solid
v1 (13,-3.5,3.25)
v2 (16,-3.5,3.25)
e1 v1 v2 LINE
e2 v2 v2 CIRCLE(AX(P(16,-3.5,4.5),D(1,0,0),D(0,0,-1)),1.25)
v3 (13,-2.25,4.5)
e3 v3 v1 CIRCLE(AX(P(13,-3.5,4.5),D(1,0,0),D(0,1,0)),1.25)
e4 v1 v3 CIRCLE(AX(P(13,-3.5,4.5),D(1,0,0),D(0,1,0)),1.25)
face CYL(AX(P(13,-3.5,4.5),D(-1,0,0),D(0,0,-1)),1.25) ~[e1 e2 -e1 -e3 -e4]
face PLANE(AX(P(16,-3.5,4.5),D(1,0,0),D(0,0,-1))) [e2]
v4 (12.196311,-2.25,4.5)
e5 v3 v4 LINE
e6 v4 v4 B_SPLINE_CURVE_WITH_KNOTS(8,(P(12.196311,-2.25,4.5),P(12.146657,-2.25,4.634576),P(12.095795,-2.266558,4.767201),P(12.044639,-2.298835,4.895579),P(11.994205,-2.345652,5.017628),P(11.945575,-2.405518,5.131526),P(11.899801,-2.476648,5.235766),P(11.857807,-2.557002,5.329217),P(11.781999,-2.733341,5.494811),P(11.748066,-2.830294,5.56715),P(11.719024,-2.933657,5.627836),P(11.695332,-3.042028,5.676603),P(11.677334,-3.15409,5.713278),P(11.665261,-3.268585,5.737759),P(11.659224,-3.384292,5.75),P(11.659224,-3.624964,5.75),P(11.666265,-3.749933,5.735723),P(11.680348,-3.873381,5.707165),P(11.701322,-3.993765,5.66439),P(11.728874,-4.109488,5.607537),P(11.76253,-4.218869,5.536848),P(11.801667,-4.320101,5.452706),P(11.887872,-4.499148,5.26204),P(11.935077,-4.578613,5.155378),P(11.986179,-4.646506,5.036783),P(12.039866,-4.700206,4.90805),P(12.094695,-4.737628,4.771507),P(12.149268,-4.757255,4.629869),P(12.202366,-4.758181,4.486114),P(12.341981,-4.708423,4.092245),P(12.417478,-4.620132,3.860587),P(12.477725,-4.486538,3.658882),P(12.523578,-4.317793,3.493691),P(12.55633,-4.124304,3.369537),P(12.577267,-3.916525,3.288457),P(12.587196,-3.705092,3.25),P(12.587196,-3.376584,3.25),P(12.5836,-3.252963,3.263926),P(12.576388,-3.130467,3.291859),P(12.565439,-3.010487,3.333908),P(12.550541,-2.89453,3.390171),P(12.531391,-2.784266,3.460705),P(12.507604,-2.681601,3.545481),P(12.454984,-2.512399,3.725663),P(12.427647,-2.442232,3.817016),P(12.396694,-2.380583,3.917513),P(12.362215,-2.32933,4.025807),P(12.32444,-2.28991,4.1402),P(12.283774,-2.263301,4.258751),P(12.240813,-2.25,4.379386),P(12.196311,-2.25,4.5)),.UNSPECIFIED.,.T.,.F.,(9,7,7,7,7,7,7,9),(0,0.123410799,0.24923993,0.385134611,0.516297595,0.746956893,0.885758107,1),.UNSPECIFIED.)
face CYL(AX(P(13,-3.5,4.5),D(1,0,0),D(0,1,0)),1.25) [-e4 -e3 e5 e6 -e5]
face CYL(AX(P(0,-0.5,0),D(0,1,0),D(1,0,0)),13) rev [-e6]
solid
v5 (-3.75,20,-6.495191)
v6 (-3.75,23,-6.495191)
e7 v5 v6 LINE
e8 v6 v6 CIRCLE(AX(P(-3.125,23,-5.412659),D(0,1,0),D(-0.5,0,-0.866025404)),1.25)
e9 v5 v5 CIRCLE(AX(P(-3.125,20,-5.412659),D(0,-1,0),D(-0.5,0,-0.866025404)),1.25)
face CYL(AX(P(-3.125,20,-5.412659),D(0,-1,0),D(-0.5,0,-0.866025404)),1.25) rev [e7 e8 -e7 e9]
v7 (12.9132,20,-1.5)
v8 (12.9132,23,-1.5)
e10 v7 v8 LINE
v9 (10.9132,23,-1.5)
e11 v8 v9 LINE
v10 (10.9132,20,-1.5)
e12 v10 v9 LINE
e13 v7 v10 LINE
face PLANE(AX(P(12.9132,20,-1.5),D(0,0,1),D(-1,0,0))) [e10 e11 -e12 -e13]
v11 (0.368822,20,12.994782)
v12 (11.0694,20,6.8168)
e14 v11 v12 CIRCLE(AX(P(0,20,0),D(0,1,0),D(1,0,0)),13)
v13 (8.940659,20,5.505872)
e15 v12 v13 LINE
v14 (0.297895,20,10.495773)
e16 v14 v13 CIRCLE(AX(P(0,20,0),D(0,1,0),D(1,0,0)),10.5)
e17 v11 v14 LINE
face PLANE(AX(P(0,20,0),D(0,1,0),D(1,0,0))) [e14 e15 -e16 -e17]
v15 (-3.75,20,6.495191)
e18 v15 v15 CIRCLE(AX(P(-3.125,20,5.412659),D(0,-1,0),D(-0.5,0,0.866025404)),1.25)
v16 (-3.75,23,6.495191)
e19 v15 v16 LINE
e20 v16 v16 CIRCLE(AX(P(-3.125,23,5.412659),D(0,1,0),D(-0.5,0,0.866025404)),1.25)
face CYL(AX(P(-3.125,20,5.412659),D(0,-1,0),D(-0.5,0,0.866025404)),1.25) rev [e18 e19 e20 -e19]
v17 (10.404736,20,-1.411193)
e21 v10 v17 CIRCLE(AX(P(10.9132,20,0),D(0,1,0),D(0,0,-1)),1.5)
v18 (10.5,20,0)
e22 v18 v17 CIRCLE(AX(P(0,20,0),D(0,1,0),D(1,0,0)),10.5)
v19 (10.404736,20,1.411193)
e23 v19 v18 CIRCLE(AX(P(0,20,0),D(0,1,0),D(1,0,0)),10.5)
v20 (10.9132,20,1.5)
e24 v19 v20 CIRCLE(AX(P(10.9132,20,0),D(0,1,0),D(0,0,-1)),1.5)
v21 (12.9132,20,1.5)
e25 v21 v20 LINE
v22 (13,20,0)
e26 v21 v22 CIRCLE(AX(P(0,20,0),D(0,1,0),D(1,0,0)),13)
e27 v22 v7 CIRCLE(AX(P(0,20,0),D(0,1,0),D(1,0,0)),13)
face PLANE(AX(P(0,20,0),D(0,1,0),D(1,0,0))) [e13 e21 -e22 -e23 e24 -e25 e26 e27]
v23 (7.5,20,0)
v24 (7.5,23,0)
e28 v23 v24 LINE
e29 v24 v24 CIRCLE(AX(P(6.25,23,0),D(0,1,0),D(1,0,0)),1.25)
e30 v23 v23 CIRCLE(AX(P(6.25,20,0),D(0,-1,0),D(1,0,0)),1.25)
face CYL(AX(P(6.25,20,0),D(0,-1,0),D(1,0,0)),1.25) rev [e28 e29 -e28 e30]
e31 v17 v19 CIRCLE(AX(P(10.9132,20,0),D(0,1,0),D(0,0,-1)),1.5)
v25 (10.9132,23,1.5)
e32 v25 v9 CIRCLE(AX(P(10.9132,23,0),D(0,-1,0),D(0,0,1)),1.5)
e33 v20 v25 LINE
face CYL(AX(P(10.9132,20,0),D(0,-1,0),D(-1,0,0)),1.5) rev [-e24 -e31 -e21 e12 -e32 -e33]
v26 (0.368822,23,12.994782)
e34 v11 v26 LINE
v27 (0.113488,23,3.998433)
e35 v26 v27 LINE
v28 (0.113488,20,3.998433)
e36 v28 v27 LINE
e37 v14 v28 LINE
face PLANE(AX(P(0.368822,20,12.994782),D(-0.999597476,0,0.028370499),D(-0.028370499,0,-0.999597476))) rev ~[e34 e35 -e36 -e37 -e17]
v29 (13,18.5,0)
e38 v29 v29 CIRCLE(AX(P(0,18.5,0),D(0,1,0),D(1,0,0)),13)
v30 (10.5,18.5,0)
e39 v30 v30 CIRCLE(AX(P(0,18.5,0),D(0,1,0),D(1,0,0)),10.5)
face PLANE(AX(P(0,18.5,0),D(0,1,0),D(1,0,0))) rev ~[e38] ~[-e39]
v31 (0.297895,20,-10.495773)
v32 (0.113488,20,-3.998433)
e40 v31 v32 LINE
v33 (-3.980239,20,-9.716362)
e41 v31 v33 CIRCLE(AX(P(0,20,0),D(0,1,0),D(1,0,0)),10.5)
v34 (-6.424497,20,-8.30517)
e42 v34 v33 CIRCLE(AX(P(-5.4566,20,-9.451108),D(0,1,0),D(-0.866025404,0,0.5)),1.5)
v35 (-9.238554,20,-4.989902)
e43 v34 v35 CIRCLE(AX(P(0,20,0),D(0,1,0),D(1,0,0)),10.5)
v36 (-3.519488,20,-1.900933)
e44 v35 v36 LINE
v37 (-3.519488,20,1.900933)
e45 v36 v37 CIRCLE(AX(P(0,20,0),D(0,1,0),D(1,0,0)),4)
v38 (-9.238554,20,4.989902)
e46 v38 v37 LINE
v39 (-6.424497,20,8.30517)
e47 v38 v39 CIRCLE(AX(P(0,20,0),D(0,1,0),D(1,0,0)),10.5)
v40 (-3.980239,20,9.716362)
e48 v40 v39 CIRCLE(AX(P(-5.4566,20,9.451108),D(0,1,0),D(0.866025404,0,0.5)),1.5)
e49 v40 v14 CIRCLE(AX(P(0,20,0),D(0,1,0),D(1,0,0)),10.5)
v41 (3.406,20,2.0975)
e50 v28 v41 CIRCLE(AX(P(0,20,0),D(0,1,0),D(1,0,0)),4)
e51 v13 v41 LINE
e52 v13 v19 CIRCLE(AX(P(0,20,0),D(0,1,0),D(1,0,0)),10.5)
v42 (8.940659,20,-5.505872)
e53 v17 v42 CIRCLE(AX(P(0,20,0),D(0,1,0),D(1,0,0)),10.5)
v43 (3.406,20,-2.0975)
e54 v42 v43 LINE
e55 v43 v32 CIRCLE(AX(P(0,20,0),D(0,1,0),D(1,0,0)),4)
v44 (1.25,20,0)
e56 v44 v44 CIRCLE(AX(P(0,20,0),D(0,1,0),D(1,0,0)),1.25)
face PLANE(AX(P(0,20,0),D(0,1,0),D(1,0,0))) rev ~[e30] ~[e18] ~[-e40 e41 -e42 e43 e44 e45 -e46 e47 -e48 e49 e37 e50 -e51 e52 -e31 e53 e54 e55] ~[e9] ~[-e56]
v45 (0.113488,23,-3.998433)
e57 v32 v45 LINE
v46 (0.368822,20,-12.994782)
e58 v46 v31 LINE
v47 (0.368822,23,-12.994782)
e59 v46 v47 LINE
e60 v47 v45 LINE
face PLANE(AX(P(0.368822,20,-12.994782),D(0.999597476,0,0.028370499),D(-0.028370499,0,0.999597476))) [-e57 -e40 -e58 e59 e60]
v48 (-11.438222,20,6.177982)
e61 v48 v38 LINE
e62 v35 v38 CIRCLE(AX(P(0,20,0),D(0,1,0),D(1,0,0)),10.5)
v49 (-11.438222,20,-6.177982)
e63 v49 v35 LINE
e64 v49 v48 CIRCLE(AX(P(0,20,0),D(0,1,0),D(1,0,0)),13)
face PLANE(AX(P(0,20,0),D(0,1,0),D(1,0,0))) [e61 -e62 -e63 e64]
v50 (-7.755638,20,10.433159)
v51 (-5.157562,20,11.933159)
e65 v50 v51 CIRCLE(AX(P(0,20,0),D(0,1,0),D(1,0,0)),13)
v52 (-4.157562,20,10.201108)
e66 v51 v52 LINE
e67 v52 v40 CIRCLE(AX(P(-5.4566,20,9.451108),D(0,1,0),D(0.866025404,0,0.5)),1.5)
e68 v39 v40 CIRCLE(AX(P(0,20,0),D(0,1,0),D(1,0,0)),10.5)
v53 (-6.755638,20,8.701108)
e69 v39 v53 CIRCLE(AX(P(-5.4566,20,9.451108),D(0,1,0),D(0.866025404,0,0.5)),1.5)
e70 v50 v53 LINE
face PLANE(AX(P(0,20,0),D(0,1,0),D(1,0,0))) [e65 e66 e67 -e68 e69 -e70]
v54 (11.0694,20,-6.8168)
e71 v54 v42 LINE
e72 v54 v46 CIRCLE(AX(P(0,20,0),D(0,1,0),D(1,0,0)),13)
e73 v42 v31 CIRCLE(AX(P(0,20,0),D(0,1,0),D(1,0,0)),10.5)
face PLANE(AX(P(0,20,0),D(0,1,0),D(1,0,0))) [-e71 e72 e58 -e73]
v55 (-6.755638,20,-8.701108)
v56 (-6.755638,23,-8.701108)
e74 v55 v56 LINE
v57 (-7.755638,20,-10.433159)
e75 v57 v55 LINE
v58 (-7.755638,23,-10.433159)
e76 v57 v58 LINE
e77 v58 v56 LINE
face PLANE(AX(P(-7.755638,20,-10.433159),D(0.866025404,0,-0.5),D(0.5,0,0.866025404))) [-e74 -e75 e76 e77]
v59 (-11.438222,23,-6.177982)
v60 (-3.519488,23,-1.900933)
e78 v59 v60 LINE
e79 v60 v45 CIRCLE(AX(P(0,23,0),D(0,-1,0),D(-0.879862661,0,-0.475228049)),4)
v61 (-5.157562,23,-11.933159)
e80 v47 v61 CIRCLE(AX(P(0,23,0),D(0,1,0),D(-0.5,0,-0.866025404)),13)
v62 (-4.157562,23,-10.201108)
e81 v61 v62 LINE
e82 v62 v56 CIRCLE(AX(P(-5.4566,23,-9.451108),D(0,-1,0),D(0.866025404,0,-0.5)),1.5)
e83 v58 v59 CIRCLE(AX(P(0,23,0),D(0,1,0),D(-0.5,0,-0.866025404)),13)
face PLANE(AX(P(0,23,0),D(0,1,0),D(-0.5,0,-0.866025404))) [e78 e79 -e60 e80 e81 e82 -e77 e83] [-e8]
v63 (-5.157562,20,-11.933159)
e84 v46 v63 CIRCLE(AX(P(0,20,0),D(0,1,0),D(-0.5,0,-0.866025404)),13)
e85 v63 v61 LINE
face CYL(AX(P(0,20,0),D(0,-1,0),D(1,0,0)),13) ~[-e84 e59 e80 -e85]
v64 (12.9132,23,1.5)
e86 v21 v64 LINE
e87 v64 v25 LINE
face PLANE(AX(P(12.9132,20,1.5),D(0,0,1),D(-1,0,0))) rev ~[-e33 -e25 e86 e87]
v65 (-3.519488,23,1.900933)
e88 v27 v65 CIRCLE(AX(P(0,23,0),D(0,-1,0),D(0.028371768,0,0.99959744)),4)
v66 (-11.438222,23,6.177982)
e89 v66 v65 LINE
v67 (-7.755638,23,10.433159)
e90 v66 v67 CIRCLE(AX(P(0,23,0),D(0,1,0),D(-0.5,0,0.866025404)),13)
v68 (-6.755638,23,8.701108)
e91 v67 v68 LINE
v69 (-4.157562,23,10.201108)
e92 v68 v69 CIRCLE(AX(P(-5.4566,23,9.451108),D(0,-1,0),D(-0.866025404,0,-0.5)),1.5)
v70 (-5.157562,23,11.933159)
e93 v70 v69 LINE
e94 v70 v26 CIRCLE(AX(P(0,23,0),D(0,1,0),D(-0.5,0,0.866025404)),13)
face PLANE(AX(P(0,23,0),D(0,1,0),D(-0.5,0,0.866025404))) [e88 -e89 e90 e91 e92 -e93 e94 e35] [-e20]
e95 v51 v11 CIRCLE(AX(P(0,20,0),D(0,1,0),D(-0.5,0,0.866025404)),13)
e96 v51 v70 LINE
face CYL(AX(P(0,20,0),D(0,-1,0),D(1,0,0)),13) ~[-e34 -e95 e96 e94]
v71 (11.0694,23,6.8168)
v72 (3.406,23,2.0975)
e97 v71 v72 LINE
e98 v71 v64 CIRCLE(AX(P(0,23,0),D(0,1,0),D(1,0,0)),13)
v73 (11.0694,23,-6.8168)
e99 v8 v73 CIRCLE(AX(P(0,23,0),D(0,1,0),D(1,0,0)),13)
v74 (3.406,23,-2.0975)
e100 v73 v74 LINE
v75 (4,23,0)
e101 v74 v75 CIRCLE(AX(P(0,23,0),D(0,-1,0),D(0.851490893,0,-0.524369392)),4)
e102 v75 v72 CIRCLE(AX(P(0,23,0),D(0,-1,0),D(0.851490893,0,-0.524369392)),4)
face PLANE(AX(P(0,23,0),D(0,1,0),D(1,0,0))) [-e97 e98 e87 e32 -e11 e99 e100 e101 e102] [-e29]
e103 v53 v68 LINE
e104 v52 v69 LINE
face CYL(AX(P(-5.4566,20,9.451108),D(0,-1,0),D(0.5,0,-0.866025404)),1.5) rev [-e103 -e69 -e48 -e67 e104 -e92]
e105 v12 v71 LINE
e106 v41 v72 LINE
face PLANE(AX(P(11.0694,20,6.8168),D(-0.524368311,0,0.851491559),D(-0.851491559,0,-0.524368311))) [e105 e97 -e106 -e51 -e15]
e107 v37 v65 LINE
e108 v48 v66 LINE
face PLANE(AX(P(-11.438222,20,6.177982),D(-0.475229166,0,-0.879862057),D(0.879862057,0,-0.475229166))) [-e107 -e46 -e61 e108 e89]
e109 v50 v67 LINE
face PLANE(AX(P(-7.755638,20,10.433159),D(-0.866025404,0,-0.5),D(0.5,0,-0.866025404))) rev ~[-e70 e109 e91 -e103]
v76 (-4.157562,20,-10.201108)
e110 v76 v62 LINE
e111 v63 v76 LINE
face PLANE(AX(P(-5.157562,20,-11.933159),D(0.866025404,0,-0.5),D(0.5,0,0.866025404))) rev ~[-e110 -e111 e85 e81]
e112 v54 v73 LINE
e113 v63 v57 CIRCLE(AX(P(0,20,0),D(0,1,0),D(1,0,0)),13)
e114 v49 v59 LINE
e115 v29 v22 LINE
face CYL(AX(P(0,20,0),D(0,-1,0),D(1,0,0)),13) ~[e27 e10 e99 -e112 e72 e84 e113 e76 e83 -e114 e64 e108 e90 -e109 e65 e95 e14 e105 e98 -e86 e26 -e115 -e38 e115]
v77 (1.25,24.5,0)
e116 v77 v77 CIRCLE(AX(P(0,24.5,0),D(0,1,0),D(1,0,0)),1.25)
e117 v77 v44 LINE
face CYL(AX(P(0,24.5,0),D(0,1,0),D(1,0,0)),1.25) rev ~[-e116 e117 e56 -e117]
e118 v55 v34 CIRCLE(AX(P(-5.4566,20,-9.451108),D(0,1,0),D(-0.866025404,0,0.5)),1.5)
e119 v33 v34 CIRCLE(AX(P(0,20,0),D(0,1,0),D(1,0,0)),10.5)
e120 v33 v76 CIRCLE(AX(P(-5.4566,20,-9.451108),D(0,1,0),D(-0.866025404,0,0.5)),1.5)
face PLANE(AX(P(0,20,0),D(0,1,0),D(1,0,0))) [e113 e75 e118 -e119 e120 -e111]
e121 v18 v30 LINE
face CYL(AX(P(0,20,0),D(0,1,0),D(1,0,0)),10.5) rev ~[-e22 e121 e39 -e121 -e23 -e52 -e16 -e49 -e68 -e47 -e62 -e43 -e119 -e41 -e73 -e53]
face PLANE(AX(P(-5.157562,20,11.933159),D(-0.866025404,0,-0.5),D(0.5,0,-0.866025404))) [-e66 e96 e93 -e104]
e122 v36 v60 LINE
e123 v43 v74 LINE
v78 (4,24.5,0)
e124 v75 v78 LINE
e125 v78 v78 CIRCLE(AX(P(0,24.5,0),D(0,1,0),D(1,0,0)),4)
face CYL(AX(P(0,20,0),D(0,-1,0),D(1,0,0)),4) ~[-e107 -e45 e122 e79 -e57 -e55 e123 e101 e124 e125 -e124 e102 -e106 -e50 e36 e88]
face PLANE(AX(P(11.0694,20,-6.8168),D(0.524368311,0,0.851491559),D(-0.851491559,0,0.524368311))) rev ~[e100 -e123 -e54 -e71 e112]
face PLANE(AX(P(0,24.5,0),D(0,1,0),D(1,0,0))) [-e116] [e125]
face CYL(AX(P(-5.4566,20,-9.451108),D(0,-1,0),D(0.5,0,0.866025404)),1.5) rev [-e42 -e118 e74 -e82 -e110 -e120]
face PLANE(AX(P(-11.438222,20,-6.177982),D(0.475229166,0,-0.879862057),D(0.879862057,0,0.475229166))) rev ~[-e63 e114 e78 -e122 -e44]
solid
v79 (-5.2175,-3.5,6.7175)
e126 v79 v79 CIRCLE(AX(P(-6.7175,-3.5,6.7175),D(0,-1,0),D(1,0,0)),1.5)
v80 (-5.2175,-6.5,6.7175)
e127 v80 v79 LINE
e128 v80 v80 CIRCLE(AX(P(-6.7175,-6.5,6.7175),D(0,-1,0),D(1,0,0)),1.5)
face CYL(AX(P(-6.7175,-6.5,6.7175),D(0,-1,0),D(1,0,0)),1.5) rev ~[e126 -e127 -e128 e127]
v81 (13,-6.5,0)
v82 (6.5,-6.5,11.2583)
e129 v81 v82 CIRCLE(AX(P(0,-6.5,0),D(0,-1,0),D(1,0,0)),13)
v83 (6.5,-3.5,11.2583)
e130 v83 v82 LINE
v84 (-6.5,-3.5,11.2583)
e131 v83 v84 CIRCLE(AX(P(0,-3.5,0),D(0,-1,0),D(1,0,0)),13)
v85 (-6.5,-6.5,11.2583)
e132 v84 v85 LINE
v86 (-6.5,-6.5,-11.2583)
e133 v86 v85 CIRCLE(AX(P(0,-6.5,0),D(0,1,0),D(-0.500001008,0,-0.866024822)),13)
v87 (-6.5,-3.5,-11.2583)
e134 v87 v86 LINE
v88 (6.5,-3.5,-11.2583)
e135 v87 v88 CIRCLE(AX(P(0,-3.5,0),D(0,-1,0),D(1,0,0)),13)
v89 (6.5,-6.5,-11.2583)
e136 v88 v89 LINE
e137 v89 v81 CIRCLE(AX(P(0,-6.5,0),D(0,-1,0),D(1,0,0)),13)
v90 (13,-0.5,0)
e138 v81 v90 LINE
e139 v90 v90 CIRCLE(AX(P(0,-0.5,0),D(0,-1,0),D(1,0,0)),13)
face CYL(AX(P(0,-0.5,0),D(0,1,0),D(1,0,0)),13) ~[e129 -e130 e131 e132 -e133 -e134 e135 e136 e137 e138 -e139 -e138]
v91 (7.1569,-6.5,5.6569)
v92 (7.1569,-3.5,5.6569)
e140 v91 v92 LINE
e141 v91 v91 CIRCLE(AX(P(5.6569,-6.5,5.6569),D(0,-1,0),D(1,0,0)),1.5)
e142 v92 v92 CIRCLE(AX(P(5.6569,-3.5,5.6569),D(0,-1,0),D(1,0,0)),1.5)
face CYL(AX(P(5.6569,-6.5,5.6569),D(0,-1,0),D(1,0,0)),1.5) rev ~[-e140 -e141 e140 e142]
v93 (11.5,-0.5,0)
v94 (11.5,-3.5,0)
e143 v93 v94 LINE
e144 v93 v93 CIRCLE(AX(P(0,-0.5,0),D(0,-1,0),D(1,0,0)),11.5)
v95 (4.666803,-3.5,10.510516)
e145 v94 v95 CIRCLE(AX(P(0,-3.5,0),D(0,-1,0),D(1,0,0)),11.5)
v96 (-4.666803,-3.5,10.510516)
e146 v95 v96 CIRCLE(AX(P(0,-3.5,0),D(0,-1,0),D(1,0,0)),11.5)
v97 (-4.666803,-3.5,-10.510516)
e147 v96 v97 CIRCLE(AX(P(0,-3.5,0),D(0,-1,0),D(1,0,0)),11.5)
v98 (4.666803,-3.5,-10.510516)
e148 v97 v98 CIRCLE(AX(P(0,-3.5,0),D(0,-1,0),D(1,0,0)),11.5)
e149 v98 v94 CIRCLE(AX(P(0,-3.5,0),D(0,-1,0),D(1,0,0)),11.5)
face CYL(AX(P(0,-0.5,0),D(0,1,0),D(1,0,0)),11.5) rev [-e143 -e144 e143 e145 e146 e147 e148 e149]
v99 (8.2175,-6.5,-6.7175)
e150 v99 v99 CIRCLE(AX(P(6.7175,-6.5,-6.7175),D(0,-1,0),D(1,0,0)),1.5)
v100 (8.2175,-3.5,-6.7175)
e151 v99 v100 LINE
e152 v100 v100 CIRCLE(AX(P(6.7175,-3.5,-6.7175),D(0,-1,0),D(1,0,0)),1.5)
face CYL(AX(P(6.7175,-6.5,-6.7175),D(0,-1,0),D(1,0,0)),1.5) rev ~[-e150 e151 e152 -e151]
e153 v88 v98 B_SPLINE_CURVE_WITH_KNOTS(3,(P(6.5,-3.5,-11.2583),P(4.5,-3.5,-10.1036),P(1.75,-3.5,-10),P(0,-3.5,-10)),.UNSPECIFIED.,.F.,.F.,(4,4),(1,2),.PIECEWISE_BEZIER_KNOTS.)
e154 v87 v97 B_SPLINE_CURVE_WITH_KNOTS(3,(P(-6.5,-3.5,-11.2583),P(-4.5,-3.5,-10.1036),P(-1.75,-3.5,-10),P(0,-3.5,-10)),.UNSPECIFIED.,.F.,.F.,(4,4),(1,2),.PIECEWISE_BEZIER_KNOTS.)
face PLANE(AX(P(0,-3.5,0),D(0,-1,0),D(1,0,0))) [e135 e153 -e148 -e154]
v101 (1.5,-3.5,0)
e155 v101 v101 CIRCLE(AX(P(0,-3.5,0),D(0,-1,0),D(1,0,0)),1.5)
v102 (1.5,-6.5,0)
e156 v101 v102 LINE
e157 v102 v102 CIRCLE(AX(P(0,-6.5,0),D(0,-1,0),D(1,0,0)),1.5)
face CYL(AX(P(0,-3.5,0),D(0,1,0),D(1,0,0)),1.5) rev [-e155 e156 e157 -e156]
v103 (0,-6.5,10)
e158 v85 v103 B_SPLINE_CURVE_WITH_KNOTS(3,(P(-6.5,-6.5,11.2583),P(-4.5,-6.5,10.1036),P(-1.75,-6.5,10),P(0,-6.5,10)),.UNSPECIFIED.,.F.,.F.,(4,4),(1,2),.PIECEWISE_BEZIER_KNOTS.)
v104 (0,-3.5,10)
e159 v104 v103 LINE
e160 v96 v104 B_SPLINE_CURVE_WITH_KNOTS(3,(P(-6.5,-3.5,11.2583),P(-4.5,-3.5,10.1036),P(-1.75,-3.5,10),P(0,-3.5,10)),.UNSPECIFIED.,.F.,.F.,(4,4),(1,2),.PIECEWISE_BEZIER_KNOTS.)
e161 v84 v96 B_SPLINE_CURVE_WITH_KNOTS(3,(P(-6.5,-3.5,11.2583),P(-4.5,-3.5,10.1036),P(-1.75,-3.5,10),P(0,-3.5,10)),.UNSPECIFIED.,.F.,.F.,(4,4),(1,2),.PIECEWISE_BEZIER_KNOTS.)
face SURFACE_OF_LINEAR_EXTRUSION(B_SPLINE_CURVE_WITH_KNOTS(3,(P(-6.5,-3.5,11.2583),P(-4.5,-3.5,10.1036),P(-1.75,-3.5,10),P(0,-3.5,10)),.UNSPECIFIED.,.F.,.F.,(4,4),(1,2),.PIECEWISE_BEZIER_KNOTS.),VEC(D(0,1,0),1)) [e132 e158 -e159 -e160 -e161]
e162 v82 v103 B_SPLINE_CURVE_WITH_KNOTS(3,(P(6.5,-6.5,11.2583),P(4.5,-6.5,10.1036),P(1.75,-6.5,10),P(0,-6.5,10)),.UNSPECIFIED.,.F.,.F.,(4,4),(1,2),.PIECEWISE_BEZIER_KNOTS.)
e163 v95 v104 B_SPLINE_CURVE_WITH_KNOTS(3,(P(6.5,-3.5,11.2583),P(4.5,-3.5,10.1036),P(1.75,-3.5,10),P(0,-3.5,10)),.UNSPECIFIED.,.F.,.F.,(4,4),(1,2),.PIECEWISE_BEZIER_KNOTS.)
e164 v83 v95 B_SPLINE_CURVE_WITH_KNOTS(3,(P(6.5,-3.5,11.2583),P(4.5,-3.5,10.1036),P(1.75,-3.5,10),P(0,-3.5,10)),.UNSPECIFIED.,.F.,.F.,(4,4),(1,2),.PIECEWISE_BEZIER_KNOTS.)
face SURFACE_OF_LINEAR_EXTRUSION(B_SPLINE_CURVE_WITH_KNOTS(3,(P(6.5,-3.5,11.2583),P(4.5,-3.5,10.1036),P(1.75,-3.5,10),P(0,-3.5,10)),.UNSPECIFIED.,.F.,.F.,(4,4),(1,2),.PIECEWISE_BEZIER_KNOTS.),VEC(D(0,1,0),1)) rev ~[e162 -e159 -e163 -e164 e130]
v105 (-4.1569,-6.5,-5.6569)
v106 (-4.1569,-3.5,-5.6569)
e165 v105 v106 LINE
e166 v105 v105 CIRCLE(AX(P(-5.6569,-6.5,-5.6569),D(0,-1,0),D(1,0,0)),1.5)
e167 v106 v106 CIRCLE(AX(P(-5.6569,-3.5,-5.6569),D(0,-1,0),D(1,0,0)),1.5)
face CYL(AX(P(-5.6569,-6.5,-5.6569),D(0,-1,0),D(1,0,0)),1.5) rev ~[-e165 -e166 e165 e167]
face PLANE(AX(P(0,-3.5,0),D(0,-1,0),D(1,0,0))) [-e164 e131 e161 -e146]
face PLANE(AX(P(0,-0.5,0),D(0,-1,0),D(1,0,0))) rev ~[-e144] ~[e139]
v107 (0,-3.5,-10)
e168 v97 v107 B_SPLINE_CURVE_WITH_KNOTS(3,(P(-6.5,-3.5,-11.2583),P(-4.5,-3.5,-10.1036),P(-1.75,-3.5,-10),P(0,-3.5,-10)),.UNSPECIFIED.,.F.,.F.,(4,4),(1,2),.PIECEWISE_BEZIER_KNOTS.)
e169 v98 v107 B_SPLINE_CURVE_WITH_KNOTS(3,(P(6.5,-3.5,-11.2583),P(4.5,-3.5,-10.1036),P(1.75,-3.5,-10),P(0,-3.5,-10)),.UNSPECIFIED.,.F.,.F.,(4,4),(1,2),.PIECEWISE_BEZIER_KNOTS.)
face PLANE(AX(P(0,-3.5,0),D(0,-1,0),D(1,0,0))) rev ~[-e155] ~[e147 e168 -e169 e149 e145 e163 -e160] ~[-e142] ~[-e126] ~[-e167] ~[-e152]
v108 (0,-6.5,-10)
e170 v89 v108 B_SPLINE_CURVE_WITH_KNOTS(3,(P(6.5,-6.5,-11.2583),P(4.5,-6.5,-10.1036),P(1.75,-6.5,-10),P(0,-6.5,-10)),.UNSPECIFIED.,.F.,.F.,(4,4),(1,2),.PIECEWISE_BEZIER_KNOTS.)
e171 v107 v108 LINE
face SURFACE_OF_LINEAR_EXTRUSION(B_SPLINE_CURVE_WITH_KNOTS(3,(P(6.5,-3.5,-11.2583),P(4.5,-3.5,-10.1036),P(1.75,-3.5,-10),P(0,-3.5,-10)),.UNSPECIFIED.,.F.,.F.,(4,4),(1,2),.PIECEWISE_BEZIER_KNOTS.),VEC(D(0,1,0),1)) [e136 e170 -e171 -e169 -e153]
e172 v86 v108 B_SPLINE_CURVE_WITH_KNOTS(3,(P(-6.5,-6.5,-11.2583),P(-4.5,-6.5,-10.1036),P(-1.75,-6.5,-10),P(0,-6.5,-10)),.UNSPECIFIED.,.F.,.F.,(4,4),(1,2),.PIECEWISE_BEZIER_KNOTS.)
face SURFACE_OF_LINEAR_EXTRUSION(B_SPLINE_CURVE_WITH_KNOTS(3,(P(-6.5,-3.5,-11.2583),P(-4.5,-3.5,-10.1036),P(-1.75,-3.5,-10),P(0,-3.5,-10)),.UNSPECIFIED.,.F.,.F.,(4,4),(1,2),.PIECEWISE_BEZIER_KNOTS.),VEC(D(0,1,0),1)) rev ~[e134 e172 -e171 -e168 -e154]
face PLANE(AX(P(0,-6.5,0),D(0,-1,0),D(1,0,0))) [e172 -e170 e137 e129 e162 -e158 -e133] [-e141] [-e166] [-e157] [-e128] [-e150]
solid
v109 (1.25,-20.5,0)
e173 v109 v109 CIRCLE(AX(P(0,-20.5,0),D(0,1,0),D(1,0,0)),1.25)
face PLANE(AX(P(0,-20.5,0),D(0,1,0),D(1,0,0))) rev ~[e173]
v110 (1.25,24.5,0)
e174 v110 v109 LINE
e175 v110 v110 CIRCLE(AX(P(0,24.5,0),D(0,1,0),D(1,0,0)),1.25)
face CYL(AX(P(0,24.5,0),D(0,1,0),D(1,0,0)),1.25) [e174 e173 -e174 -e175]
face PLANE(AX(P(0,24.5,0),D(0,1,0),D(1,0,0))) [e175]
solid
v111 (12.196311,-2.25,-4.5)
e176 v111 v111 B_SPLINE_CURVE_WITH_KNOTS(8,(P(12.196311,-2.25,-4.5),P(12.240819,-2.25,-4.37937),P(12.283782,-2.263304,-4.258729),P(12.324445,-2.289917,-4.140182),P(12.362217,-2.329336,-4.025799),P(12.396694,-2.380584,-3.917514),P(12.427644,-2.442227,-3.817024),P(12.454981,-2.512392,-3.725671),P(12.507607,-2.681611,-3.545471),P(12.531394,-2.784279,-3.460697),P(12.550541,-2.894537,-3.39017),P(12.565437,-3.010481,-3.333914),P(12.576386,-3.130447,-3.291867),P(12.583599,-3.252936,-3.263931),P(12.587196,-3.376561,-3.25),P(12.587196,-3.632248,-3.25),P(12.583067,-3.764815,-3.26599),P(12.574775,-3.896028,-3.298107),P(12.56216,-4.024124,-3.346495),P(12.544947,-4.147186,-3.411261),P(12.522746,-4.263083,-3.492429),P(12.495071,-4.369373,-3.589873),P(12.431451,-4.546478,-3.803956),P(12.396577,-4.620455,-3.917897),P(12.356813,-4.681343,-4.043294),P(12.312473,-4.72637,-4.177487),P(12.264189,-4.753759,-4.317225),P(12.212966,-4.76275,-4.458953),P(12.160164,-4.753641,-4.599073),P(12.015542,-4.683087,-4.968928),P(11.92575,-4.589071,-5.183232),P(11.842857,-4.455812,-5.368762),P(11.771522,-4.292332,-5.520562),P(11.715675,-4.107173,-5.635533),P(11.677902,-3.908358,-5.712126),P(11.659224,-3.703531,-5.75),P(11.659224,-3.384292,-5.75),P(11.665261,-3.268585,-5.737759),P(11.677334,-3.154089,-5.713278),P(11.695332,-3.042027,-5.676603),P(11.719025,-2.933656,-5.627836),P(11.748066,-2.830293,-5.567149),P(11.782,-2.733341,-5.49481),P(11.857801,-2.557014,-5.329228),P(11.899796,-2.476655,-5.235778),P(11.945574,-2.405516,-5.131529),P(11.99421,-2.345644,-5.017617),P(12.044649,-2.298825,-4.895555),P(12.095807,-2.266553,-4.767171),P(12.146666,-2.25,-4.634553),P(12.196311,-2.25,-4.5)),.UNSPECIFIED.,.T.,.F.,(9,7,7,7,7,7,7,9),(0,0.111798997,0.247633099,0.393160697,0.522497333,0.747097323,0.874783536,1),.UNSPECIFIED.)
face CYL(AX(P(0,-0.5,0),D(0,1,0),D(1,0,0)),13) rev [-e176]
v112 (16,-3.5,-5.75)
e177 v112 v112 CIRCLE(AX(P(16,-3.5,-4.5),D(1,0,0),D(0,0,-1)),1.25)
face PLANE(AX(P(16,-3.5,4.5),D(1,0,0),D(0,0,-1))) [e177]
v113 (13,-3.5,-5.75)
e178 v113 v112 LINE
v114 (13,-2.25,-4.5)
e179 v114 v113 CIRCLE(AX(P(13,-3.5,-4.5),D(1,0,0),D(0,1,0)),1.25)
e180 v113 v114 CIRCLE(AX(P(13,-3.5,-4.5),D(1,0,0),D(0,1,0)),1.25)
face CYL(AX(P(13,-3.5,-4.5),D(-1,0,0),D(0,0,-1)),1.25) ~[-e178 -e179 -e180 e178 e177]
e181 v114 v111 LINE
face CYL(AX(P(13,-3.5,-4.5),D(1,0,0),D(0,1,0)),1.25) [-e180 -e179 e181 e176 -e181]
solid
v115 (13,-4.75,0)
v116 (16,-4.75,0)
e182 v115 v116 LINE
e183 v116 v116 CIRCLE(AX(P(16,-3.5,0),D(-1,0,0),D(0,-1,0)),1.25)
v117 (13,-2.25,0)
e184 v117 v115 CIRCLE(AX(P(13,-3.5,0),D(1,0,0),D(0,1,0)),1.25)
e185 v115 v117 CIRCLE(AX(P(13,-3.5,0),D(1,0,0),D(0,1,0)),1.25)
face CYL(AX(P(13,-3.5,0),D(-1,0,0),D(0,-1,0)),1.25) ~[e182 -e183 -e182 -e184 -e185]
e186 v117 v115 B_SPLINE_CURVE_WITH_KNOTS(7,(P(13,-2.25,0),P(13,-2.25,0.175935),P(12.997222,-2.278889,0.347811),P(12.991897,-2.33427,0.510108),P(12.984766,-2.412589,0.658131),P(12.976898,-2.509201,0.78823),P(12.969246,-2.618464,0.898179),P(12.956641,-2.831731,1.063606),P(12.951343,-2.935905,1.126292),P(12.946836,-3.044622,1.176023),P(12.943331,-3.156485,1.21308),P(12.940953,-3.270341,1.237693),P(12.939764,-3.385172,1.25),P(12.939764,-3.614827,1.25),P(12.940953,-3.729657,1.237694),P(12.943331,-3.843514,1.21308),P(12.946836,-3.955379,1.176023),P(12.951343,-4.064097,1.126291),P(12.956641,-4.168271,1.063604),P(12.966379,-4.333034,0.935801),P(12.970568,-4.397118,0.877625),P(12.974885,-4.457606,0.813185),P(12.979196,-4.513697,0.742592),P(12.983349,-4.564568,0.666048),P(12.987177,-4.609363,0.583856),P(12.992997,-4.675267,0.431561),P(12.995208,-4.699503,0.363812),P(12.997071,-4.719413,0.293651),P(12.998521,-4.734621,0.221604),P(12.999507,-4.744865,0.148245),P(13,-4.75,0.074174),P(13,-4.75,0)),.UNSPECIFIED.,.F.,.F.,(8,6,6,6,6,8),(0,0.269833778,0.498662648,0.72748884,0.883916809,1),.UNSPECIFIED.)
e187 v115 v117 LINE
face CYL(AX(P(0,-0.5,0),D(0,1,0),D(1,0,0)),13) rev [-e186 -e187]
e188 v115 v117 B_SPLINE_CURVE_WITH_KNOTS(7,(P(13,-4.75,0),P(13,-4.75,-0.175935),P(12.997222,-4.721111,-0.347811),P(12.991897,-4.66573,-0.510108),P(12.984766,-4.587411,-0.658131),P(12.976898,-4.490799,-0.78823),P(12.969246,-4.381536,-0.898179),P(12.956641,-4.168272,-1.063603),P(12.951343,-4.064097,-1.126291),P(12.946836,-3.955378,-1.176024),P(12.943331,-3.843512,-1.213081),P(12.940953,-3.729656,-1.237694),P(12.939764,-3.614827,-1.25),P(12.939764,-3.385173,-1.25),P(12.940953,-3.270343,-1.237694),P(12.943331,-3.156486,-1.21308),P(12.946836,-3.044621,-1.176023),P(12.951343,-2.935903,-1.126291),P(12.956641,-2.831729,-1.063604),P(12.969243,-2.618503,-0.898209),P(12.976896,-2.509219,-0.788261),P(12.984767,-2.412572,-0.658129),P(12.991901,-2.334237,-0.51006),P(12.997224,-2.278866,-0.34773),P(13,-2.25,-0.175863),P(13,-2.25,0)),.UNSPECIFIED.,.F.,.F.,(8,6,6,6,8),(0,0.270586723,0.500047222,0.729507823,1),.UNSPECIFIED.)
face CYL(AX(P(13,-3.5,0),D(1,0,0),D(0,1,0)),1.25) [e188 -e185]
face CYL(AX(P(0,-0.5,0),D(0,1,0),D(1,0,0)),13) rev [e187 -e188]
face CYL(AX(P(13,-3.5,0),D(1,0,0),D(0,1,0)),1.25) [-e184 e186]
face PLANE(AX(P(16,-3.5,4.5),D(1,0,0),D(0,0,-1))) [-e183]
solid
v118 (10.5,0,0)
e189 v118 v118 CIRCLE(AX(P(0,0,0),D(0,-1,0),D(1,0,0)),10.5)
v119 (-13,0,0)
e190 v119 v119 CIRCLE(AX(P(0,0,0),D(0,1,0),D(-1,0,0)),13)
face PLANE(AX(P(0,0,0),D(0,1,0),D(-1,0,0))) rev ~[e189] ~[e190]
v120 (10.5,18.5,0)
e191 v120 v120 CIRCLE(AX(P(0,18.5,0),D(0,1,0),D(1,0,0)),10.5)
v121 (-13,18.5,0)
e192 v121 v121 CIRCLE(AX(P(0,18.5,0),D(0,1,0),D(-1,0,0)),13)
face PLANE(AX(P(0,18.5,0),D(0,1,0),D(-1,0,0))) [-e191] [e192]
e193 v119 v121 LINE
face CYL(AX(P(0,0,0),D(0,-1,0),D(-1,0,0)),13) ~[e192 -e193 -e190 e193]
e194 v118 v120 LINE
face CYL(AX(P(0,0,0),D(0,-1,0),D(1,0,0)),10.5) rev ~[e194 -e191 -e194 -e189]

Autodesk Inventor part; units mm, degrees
sketch "Sketch1" plane through (0, 0, 0) normal (0, 1, 0) x (-1, 0, 0)
  circle A0 centre (0, 0) radius 13
  dimension "d0" = 26
extrude "Extrusion1" add sketch "Sketch1" along normal blind 18.5
sketch "Sketch2" plane through (0, 18.5, 0) normal (0, 1, 0) x (1, 0, 0)
  circle A0 centre (0, 0) radius 13 projected
extrude "Extrusion2" add sketch "Sketch2" along normal blind 1.5 separate body
sketch "Sketch3" plane through (0, 20, 0) normal (0, 1, 0) x (1, 0, 0)
  circle A0 centre (0, 0) radius 10.5
  dimension "d5" = 21
extrude "Extrusion3" cut sketch "Sketch3" against normal up to surface (20 mm away) from surface at 0 bodies 2
sketch "Sketch4" plane through (0, 0, 0) normal (0, -1, 0) x (1, 0, 0)
  circle A0 centre (0, 0) radius 10.5
  dimension "d8" = 21
extrude "Extrusion4" cut sketch "Sketch4" against normal up to next bodies 1
ref_plane "Work Plane1" through (0, 20, 0) normal (0, 1, 0) x (1, 0, 0)
sketch "Sketch5" plane through (0, 20, 0) normal (0, 1, 0) x (1, 0, 0)
  circle A0 centre (0, 0) radius 4
  dimension "d12" = 8
extrude "Extrusion5" add sketch "Sketch5" along normal blind 4.5 bodies 2
sketch "Sketch6" plane through (0, 20, 0) normal (0, 1, 0) x (1, 0, 0)
  circle A0 centre (0, 0) radius 4 projected
  circle A1 centre (0, 0) radius 13 projected
  circle A2 centre (6.25, 0) radius 1.25
  circle A3 centre (0, 0) radius 13 projected
  line L0 (-18.3175, 0) -> (18.9053, 0) projected
  circle A4 centre (0, 0) radius 4 projected
  arc A5 (11.0694, -6.8168) -> (12.9132, -1.5) centre (0, 0) ccw
  line L1 (0, 0) -> (12.9132, -1.5) construction
  line L2 (0, 0) -> (11.0694, -6.8168) construction
  line L3 (11.0694, -6.8168) -> (3.406, -2.0975)
  line L4 (12.9132, -1.5) -> (10.9132, -1.5)
  arc A6 (9.4132, 0) -> (10.9132, -1.5) centre (10.9132, 0) ccw
  line L5 (10.9132, 0) -> (9.4132, 0) construction
  line L6 (10.9132, 0) -> (10.9132, -1.5) construction
  arc A7 (12.9132, 1.5) -> (11.0694, 6.8168) centre (0, 0) ccw
  line L7 (11.0694, 6.8168) -> (3.406, 2.0975)
  line L8 (12.9132, 1.5) -> (10.9132, 1.5)
  arc A8 (10.9132, 1.5) -> (9.4132, 0) centre (10.9132, 0) ccw
  arc A9 (3.406, -2.0975) -> (3.406, 2.0975) centre (0, 0) ccw
  dimension "d15" = 2.5
  dimension "d16" = 6.25
  dimension "d19" = 25
  dimension "d20" = 2
  dimension "d21" = 1.5
  dimension "d22" = 90
extrude "Extrusion6" add sketch "Sketch6" along normal blind 3 contours L0 A2 A6 L4 A1 L3 A0 | A0 L7 A1 L8 A8 L0 A2 bodies 2
pattern_circular "Circular Pattern1" count 3 over 360 about axis through (0, -10, 0) along (0, 1, 0) of "Extrusion6" bodies 2
sketch "Sketch7" plane through (0, 24.5, 0) normal (0, 1, 0) x (1, 0, 0)
  circle A0 centre (0, 0) radius 1.25
  dimension "d28" = 2.5
extrude "Extrusion7" cut sketch "Sketch7" against normal up to next bodies 2
ref_plane "Work Plane2" through (0, 24.5, 0) normal (0, 1, 0) x (1, 0, 0)
sketch "Sketch8" plane through (0, 24.5, 0) normal (0, 1, 0) x (1, 0, 0)
  circle A0 centre (0, 0) radius 1.25
  dimension "d32" = 2.5
extrude "Extrusion8" add sketch "Sketch8" against normal blind 45 separate body
ref_plane "Work Plane3" through (0, -0.5, 0) normal (0, -1, 0) x (1, 0, 0)
sketch "Sketch9" plane through (0, -0.5, 0) normal (0, -1, 0) x (1, 0, 0)
  circle A0 centre (0, 0) radius 1.25 projected
  circle A1 centre (0, 0) radius 13
  circle A2 centre (0, 0) radius 11.5
  dimension "d36" = 26
  dimension "d37" = 23
extrude "Extrusion9" add sketch "Sketch9" along normal blind 3 separate body contours A1
sketch "Sketch10" plane through (0, -3.5, 0) normal (0, -1, 0) x (1, 0, 0)
  circle A0 centre (0, 0) radius 13 construction
  circle A1 centre (0, 0) radius 13 projected
  arc A2 (6.5, -11.2583) -> (13, 0) centre (0, 0) ccw
  line L0 (0, 0) -> (6.5, -11.2583) construction
  line L1 (0, 0) -> (13, 0) construction
  line L2 (0, 0) -> (0, -15.7128) construction
  line L3 (6.5, -11.2583) -> (4.5, -10.1036) construction
  line L4 (4.5, -10.1036) -> (1.75, -10) construction
  line L5 (1.75, -10) -> (0, -10) construction
  spline S0 degree 3 poles (6.5, -11.2583) (4.5, -10.1036) (1.75, -10) (0, -10) knots 1 1 1 1 2 2 2 2
  circle A3 centre (0, 0) radius 13 construction
  line L6 (-6.5, -11.2583) -> (-4.5, -10.1036) construction
  line L7 (-4.5, -10.1036) -> (-1.75, -10) construction
  line L8 (-1.75, -10) -> (0, -10) construction
  spline S1 degree 3 poles (-6.5, -11.2583) (-4.5, -10.1036) (-1.75, -10) (0, -10) knots 1 1 1 1 2 2 2 2
  arc A4 (-13, 0) -> (-6.5, -11.2583) centre (0, 0) ccw
  spline S2 degree 3 poles (-6.5, 11.2583) (-4.5, 10.1036) (-1.75, 10) (0, 10) knots 1 1 1 1 2 2 2 2
  line L9 (-6.5, 11.2583) -> (-4.5, 10.1036) construction
  line L10 (-4.5, 10.1036) -> (-1.75, 10) construction
  line L11 (-1.75, 10) -> (0, 10) construction
  arc A5 (-6.5, 11.2583) -> (-13, 0) centre (0, 0) ccw
  arc A6 (13, 0) -> (6.5, 11.2583) centre (0, 0) ccw
  line L12 (6.5, 11.2583) -> (4.5, 10.1036) construction
  line L13 (4.5, 10.1036) -> (1.75, 10) construction
  line L14 (1.75, 10) -> (0, 10) construction
  spline S3 degree 3 poles (6.5, 11.2583) (4.5, 10.1036) (1.75, 10) (0, 10) knots 1 1 1 1 2 2 2 2
  circle A7 centre (0, 0) radius 1.5
  dimension "d40" = 60
  dimension "d41" = 10
  dimension "d42" = 1.75
  dimension "d43" = 30
  dimension "d44" = 2
  dimension "d47" = 3
extrude "Extrusion11" add sketch "Sketch10" along normal blind 3 contours A1 S0 S1 S2 S3 bodies 4
sketch "Sketch11" plane through (0, -6.5, 0) normal (0, -1, 0) x (1, 0, 0)
  line L0 (-7.7713, -7.7713) -> (12.2814, 12.2814) construction
  line L1 (-12.926, 12.926) -> (15.5349, -15.5349) construction
  circle A0 centre (-6.7175, 6.7175) radius 1.5
  line L2 (-18.707, 0) -> (21.2418, 0) projected
  line L3 (0, -21.2418) -> (0, 18.707) projected
  circle A1 centre (5.6569, 5.6569) radius 1.5
  circle A2 centre (6.7175, -6.7175) radius 1.5
  circle A3 centre (-5.6569, -5.6569) radius 1.5
  point P0 (0, 0)
  dimension "d50" = 3
  dimension "d51" = 9.5
  dimension "d52" = 45
  dimension "d54" = 3
  dimension "d55" = 8
extrude "Extrusion12" cut sketch "Sketch11" against normal up to next bodies 4
ref_plane "Work Plane4" through (13, -6.5, 0) normal (1, 0, 0) x (0, 1, 0)
sketch "Sketch12" plane through (13, -6.5, 0) normal (1, 0, 0) x (0, 1, 0)
  circle A0 centre (3, 4.5) radius 1.25
  line L0 (6, -13) -> (6, 13) projected
  line L1 (-23, 0) -> (40, 0) construction
  circle A1 centre (3, 0) radius 1.25
  circle A2 centre (3, -4.5) radius 1.25
  point P0 (6.5, 0)
  dimension "d58" = 2.5
  dimension "d59" = 3
  dimension "d60" = 4.5
  dimension "d61" = 2.5
  dimension "d62" = 3
extrude "Extrusion13" add sketch "Sketch12" against normal up to next separate body
sketch "Sketch13" plane through (13, -3.5, 4.5) normal (1, 0, 0) x (0, 0, -1)
  circle A0 centre (9, 0) radius 1.25 projected
  arc A1 (4.5, 1.25) -> (4.5, -1.25) centre (4.5, 0) ccw projected
  arc A2 (4.5, -1.25) -> (4.5, 1.25) centre (4.5, 0) ccw projected
  circle A3 centre (0, 0) radius 1.25 projected
  point P0 (4.5, 3.5)
extrude "Extrusion14" add sketch "Sketch13" along normal blind 3 bodies 5
properties part number "Motor" material "Steel"
